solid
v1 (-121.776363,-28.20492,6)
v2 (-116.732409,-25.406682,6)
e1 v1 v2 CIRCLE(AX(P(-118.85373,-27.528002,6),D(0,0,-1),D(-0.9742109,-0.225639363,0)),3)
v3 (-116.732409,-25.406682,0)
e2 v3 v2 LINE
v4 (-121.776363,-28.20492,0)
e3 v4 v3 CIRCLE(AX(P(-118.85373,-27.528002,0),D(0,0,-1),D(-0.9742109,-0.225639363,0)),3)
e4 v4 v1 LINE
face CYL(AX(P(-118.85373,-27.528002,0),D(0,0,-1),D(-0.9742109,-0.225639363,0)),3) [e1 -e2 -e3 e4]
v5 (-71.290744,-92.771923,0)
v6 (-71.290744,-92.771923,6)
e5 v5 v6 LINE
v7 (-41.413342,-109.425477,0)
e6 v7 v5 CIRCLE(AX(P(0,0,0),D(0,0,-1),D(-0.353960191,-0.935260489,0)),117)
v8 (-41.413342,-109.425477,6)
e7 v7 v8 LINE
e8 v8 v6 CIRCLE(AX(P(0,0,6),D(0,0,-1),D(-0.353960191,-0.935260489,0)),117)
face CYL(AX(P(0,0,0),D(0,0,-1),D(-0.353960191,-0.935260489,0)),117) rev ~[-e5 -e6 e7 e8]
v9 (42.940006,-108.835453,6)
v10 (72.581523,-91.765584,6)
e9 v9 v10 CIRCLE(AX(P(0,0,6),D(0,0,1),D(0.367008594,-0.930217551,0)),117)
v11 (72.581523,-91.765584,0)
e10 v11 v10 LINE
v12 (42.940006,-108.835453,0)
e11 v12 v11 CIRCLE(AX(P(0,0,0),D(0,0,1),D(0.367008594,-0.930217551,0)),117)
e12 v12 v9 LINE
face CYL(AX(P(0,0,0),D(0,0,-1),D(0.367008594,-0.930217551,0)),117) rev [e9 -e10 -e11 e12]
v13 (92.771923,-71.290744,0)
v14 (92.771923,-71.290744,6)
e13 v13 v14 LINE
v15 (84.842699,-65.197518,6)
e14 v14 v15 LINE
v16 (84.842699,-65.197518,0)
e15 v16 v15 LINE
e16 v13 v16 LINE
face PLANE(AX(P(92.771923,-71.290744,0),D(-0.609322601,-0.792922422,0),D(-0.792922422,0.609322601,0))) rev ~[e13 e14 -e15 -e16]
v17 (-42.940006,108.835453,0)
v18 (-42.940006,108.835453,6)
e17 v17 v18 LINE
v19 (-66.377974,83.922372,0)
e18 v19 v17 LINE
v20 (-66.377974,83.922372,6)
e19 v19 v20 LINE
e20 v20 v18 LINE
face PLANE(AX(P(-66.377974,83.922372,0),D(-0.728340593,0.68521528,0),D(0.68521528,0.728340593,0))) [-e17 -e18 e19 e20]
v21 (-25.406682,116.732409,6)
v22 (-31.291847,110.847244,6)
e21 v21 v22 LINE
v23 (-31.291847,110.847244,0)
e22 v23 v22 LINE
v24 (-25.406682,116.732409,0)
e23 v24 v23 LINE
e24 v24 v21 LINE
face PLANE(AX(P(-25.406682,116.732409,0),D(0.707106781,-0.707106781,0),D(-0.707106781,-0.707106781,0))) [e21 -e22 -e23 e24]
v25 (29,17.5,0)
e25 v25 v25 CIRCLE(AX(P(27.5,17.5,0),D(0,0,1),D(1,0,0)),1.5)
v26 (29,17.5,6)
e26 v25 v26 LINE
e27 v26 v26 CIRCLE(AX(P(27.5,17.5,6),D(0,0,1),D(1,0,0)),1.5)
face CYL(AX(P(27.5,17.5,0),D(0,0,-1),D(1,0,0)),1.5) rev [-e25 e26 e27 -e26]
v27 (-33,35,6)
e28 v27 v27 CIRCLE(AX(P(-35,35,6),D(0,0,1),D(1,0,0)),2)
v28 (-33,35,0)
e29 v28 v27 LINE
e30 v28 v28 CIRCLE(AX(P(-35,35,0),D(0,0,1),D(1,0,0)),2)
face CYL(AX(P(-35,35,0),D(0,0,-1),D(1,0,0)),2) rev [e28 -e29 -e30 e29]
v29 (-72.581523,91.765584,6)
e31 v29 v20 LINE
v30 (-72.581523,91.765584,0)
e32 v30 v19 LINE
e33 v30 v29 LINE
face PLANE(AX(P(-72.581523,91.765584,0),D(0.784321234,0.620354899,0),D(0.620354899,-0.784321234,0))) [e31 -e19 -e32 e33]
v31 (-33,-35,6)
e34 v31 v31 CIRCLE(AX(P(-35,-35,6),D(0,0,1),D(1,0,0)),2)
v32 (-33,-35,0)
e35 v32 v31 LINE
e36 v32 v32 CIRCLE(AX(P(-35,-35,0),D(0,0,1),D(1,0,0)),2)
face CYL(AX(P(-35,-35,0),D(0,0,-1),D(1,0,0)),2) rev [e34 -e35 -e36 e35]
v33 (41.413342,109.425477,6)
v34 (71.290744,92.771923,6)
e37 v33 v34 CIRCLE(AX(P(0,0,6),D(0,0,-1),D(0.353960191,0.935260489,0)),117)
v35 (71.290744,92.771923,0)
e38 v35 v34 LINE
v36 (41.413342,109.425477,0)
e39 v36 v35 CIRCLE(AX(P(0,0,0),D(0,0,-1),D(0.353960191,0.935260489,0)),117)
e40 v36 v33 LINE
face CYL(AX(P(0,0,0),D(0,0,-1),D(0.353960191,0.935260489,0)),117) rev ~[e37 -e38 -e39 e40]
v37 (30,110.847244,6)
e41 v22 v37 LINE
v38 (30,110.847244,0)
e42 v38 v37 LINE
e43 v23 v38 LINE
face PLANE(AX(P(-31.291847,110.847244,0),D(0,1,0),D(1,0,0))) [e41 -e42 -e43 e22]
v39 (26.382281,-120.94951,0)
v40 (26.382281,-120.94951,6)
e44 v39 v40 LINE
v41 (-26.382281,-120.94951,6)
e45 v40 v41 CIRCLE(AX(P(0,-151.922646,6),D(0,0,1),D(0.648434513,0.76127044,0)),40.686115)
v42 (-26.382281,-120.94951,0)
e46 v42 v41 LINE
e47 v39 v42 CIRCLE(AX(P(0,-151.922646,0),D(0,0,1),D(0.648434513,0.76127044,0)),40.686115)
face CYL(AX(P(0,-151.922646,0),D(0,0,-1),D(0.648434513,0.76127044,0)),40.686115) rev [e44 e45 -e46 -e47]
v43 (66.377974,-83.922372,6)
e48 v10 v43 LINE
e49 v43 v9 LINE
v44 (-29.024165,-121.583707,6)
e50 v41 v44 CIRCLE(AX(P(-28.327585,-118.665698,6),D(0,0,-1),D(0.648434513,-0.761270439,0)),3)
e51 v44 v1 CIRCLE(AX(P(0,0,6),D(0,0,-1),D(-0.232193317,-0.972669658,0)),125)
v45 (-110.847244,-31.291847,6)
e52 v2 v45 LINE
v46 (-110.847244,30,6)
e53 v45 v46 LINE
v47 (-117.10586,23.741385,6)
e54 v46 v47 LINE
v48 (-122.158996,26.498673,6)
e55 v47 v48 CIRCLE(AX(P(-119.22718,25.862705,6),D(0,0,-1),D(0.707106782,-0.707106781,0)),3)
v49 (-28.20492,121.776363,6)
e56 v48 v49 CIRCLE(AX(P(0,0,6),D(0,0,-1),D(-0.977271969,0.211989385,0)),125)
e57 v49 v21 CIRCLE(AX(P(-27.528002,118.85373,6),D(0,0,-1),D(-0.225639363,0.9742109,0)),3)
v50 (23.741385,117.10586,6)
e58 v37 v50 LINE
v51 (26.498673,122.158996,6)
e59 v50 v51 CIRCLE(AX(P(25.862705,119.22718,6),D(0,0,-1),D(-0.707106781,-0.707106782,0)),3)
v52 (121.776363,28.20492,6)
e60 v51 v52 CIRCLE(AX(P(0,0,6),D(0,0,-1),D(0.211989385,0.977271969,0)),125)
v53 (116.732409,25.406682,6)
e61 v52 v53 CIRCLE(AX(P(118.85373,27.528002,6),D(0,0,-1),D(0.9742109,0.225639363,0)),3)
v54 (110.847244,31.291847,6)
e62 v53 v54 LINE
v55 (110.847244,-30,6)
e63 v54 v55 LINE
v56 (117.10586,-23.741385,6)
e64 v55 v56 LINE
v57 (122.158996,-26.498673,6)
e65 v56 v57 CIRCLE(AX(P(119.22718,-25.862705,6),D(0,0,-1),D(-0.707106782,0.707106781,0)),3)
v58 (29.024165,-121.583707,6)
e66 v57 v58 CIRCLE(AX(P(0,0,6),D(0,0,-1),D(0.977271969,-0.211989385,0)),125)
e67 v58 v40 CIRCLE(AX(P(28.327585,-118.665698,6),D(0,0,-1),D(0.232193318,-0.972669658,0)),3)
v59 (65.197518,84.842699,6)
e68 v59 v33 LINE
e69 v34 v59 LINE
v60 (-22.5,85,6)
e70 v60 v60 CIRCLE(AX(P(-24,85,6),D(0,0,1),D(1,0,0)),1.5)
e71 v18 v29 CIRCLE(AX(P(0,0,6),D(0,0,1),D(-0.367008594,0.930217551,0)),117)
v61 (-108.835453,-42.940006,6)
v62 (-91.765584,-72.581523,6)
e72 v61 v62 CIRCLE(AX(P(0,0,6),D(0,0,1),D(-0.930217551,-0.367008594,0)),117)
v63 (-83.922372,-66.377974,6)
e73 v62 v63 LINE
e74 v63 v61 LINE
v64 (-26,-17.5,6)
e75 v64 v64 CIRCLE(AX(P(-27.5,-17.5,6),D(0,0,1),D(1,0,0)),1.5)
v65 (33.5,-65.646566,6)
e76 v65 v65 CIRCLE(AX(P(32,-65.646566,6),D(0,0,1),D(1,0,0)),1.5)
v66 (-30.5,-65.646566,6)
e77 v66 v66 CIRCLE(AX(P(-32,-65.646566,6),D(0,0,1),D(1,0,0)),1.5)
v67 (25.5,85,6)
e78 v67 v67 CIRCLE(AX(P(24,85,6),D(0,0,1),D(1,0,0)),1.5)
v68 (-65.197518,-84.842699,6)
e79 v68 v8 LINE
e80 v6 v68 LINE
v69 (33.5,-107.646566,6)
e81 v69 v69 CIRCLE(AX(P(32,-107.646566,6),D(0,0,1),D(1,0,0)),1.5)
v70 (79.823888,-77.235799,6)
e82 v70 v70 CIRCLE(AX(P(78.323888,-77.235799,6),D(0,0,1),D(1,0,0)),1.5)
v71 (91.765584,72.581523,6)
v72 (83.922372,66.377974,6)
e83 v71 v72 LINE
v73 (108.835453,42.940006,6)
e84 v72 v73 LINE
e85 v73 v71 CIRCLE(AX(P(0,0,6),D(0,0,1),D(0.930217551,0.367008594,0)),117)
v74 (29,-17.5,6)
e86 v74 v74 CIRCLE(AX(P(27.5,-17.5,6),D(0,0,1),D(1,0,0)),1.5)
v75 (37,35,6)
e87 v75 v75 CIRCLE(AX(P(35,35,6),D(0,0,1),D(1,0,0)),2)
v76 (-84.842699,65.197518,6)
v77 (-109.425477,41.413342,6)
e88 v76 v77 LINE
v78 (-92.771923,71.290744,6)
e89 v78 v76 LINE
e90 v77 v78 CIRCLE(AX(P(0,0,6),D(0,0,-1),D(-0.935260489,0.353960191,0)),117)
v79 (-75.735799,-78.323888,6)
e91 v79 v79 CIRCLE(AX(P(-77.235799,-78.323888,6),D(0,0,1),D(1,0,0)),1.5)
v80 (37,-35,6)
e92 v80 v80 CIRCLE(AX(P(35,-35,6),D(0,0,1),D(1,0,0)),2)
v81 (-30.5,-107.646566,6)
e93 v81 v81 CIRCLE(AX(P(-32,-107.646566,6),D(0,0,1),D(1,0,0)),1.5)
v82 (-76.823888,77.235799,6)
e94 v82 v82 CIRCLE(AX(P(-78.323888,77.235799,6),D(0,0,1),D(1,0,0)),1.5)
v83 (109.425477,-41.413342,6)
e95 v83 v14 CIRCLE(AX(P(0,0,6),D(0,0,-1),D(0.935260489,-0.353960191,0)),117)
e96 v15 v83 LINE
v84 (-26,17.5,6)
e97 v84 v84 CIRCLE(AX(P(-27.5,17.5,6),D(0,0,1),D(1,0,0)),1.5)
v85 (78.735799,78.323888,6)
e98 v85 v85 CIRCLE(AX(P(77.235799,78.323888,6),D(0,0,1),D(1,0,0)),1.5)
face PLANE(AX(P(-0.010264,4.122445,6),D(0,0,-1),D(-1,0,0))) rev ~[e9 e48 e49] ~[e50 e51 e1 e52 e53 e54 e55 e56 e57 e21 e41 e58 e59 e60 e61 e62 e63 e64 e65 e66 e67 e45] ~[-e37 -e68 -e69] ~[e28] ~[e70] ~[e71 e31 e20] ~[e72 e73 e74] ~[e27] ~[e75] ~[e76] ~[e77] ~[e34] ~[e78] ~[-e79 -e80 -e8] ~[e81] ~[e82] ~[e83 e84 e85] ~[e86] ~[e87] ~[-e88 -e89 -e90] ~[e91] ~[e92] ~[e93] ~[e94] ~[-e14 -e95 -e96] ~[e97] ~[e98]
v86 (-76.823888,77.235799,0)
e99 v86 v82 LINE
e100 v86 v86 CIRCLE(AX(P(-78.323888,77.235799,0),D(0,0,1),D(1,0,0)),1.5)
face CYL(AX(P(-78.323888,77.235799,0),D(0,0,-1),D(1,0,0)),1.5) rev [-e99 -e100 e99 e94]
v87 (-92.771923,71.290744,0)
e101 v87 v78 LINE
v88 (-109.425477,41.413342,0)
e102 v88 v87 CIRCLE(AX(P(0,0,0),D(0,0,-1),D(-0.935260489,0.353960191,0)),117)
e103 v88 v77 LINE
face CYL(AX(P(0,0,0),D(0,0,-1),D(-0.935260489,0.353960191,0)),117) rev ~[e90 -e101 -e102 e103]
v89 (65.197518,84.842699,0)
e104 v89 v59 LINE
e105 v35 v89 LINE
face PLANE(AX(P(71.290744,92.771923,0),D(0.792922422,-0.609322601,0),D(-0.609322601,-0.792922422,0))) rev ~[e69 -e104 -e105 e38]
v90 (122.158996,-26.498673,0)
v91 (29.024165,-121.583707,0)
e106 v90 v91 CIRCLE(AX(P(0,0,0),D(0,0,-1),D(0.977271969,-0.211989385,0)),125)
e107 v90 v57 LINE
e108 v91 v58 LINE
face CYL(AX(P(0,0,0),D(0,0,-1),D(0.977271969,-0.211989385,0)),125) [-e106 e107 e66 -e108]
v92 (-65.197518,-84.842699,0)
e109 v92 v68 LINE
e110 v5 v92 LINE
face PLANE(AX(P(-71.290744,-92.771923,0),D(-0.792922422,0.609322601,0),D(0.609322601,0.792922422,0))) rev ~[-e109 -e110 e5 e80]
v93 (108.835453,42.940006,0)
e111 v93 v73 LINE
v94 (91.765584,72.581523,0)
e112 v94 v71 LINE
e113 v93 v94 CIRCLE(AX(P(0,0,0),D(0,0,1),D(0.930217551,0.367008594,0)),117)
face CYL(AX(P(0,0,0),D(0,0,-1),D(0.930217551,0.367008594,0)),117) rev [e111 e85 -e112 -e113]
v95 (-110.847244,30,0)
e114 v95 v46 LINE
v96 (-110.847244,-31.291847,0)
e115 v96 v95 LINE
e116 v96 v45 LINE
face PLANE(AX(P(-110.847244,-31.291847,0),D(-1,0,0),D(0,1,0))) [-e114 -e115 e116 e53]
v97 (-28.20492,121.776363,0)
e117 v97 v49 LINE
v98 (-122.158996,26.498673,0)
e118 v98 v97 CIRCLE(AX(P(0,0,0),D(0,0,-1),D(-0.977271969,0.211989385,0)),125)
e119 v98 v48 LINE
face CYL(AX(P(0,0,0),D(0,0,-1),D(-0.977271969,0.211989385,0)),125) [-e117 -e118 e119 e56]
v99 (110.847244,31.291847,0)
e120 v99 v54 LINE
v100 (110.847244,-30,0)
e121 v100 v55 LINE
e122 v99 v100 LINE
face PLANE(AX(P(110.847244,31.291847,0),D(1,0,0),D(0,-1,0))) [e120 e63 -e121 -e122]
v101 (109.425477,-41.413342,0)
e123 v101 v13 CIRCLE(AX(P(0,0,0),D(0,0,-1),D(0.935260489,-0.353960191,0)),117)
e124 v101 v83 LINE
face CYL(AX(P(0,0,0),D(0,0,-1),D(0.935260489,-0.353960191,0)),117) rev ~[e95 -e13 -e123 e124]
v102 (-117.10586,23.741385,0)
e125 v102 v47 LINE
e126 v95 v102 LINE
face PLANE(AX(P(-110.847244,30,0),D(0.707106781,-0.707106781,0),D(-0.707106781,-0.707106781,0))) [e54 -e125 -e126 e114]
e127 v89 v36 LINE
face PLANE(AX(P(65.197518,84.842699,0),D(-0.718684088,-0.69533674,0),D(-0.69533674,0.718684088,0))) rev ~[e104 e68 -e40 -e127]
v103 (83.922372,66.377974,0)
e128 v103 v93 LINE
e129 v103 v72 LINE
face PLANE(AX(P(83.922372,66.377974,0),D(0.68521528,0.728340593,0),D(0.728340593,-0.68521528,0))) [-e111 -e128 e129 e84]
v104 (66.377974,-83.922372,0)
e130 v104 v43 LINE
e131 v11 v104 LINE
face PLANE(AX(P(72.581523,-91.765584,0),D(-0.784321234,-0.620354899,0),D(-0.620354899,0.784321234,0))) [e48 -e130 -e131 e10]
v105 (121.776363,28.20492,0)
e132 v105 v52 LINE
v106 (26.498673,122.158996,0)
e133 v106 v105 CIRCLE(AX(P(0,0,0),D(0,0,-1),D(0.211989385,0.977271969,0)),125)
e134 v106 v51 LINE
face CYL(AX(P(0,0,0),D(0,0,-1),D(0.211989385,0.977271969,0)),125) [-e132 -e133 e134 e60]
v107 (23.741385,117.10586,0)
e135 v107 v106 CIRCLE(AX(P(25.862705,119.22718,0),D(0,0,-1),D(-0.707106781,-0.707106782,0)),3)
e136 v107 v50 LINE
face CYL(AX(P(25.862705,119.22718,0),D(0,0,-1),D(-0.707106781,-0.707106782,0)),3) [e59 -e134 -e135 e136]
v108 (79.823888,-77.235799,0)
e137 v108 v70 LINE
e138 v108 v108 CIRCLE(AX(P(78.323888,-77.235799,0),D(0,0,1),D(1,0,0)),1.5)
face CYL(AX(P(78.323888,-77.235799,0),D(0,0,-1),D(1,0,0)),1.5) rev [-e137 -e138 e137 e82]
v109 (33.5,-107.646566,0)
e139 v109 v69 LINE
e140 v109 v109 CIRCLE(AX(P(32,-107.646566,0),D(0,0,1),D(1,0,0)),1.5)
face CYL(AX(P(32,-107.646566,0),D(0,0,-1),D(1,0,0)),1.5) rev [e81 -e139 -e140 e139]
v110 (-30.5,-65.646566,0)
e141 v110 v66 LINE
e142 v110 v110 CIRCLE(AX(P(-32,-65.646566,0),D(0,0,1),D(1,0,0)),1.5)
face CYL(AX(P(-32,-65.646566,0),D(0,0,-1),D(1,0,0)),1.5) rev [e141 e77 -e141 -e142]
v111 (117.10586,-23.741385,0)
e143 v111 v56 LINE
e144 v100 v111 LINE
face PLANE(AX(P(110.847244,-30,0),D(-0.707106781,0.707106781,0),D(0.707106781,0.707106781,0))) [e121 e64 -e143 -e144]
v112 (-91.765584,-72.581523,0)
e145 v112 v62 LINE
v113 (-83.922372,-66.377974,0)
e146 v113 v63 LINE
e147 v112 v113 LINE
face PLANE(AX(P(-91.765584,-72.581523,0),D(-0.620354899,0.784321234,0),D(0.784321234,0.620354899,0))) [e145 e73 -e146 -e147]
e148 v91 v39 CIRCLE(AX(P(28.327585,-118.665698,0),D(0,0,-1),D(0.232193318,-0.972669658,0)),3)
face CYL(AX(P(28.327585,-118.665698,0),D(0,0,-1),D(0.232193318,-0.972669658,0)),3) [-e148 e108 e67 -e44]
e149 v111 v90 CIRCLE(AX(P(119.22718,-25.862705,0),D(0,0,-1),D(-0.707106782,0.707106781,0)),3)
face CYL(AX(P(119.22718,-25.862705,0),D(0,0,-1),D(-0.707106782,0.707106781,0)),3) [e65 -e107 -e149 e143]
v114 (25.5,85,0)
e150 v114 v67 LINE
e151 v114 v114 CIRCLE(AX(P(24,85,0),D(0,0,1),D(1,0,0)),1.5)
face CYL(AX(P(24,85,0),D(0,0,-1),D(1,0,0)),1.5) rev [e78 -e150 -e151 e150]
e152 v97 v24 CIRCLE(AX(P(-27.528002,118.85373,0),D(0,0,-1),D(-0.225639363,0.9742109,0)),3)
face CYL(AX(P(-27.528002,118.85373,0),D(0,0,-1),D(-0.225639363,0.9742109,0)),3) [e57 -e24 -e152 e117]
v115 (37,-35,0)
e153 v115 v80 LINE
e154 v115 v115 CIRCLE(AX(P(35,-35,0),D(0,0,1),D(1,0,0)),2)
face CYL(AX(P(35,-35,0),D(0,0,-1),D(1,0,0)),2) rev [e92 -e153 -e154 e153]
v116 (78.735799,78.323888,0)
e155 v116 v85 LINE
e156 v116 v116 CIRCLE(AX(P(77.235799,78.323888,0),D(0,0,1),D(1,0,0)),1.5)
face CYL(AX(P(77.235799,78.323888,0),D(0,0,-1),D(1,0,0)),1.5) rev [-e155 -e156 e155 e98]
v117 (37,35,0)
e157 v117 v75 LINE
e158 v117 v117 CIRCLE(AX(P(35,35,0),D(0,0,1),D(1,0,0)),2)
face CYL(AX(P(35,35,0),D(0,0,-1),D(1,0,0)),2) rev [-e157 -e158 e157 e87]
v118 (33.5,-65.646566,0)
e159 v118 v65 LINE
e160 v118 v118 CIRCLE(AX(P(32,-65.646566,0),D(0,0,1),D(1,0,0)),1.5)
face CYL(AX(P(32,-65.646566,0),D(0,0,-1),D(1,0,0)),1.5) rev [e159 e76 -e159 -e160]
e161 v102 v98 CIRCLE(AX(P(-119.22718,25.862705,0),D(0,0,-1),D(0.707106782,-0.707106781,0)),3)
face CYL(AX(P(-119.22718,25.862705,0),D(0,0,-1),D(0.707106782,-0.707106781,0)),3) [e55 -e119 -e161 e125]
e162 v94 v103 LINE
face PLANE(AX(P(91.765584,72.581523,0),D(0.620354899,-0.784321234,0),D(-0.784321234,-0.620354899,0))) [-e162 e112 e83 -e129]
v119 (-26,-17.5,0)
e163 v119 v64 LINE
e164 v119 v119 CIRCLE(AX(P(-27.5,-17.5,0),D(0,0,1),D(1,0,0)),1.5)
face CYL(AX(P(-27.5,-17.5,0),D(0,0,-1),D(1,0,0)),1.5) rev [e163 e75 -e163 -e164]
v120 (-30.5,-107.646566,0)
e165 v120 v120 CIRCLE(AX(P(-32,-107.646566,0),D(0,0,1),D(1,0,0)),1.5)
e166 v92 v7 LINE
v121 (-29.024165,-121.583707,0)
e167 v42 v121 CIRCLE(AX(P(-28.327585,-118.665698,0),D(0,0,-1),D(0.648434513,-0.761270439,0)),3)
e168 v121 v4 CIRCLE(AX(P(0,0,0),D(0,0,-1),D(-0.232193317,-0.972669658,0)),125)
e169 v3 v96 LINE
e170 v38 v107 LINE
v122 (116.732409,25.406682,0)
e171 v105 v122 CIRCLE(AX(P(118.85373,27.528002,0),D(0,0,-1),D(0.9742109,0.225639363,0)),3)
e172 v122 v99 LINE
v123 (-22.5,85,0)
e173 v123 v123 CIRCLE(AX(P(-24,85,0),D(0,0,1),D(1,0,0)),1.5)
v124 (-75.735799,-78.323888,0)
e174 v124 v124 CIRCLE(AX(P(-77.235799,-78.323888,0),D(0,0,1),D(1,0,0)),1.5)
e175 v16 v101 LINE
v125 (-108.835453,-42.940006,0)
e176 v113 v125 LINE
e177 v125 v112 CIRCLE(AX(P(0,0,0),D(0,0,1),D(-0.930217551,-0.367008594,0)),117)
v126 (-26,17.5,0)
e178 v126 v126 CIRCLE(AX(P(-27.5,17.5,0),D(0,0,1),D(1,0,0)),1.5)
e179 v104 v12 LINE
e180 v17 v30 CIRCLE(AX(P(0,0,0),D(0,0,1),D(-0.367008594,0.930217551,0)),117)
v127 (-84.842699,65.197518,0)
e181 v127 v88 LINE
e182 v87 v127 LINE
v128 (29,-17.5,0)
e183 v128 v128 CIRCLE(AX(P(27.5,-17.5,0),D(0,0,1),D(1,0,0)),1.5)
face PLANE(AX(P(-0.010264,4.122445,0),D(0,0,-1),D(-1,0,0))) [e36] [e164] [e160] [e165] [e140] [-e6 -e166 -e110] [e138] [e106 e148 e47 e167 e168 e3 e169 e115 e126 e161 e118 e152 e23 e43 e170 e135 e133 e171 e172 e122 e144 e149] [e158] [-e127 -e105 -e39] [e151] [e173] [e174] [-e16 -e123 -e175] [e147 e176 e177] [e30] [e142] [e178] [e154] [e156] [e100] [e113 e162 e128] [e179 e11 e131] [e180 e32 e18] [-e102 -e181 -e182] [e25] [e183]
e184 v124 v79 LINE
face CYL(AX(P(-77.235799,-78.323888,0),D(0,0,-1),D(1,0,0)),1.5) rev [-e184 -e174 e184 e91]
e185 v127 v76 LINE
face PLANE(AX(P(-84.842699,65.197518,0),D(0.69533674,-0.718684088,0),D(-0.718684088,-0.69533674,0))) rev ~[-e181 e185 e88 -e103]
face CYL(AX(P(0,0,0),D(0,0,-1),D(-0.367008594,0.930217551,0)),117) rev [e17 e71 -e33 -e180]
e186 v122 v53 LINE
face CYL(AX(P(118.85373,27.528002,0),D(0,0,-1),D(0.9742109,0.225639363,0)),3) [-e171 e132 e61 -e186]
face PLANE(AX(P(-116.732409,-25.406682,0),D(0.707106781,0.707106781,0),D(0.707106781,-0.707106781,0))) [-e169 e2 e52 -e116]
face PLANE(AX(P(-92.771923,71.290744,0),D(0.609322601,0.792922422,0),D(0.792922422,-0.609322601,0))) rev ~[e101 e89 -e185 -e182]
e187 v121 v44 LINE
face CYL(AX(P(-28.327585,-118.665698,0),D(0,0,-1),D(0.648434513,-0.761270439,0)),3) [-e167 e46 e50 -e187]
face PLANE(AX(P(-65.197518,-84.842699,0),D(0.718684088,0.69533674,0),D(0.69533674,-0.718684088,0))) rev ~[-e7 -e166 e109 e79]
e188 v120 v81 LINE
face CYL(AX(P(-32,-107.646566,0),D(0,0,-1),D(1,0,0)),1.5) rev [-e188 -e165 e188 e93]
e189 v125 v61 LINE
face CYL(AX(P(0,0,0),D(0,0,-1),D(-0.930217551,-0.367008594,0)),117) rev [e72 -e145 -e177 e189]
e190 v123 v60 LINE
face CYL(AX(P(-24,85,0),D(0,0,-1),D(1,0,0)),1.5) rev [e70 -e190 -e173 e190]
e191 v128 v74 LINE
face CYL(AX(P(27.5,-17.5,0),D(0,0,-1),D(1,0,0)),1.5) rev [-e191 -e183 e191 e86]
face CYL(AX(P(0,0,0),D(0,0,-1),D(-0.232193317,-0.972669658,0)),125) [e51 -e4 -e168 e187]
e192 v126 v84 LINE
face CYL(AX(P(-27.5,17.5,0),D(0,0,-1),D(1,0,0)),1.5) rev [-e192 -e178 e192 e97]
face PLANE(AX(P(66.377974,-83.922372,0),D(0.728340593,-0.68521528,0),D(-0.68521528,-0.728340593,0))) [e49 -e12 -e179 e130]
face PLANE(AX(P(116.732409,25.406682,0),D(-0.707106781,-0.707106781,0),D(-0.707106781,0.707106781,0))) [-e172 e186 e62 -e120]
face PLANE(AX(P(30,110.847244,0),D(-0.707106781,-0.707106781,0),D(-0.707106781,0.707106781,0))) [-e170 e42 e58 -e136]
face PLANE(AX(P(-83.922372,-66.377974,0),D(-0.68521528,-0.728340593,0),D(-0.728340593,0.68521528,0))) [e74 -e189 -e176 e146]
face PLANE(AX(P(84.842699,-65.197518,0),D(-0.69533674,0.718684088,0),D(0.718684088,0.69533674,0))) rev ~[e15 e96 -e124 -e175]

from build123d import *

# Parameters (mm, degrees)
SKETCH_1_R      = 1.5
SKETCH_1_R_2    = 2
EXTRUDE_1_DEPTH = 6


with BuildPart() as part:
    # 草图1 → 凸台-拉伸1 (new body)
    with BuildSketch(Plane.XY):
        with BuildLine():
            Line((0, 110.847244413), (30, 110.847244413))
            Line((30, 110.847244413), (23.741384574, 117.105859839))
            ThreePointArc((23.741384574, 117.105859839), (23.229244404, 120.664151209), (26.498673071, 122.158996089))
            ThreePointArc((26.498673071, 122.158996089), (87.76795333, 89.00441769), (121.776362518, 28.20492035))
            ThreePointArc((121.776362518, 28.20492035), (120.309085428, 24.90465706), (116.732409474, 25.406681918))
            Line((116.732409474, 25.406681918), (110.847244413, 31.291846979))
            Line((110.847244413, 31.291846979), (110.847244413, 0))
            Line((110.847244413, 0), (110.847244413, -30))
            Line((110.847244413, -30), (117.105859839, -23.741384574))
            ThreePointArc((117.105859839, -23.741384574), (120.664151209, -23.229244404), (122.158996089, -26.498673071))
            ThreePointArc((122.158996089, -26.498673071), (89.29937265, -87.467834341), (29.024164684, -121.583707233))
            ThreePointArc((29.024164684, -121.583707233), (27.627313844, -121.582823674), (26.382281192, -120.949509578))
            ThreePointArc((26.382281192, -120.949509578), (0, -111.236531221), (-26.382281192, -120.949509578))
            ThreePointArc((-26.382281192, -120.949509578), (-27.627313844, -121.582823674), (-29.024164684, -121.583707233))
            ThreePointArc((-29.024164684, -121.583707233), (-88.685394575, -88.090299063), (-121.776362518, -28.20492035))
            ThreePointArc((-121.776362518, -28.20492035), (-120.309085428, -24.90465706), (-116.732409474, -25.406681918))
            Line((-116.732409474, -25.406681918), (-110.847244413, -31.291846979))
            Line((-110.847244413, -31.291846979), (-110.847244413, 0))
            Line((-110.847244413, 0), (-110.847244413, 30))
            Line((-110.847244413, 30), (-117.105859839, 23.741384574))
            ThreePointArc((-117.105859839, 23.741384574), (-120.664151209, 23.229244404), (-122.158996089, 26.498673071))
            ThreePointArc((-122.158996089, 26.498673071), (-89.00441769, 87.76795333), (-28.20492035, 121.776362518))
            ThreePointArc((-28.20492035, 121.776362518), (-24.90465706, 120.309085428), (-25.406681918, 116.732409474))
            Line((-25.406681918, 116.732409474), (-31.291846979, 110.847244413))
            Line((-31.291846979, 110.847244413), (0, 110.847244413))
        make_face()
        with Locations((27.5, 17.5)):
            Circle(SKETCH_1_R, mode=Mode.SUBTRACT)
        with Locations((35, 35)):
            Circle(SKETCH_1_R_2, mode=Mode.SUBTRACT)
        with Locations((-35, 35)):
            Circle(SKETCH_1_R_2, mode=Mode.SUBTRACT)
        with Locations((-35, -35)):
            Circle(SKETCH_1_R_2, mode=Mode.SUBTRACT)
        with Locations((35, -35)):
            Circle(SKETCH_1_R_2, mode=Mode.SUBTRACT)
        with Locations((-27.5, 17.5)):
            Circle(SKETCH_1_R, mode=Mode.SUBTRACT)
        with Locations((27.5, -17.5)):
            Circle(SKETCH_1_R, mode=Mode.SUBTRACT)
        with Locations((-27.5, -17.5)):
            Circle(SKETCH_1_R, mode=Mode.SUBTRACT)
        with Locations((32, -65.646566025)):
            Circle(SKETCH_1_R, mode=Mode.SUBTRACT)
        with Locations((-32, -65.646566025)):
            Circle(SKETCH_1_R, mode=Mode.SUBTRACT)
        with Locations((32, -107.646566025)):
            Circle(SKETCH_1_R, mode=Mode.SUBTRACT)
        with Locations((-32, -107.646566025)):
            Circle(SKETCH_1_R, mode=Mode.SUBTRACT)
        with Locations((24, 85)):
            Circle(SKETCH_1_R, mode=Mode.SUBTRACT)
        with Locations((-24, 85)):
            Circle(SKETCH_1_R, mode=Mode.SUBTRACT)
        with Locations((77.23579893, 78.323887567)):
            Circle(SKETCH_1_R, mode=Mode.SUBTRACT)
        with Locations((78.323887567, -77.23579893)):
            Circle(SKETCH_1_R, mode=Mode.SUBTRACT)
        with Locations((-77.23579893, -78.323887567)):
            Circle(SKETCH_1_R, mode=Mode.SUBTRACT)
        with Locations((-78.323887567, 77.23579893)):
            Circle(SKETCH_1_R, mode=Mode.SUBTRACT)
        with BuildLine():
            Line((72.581523243, -91.765584419), (66.377974248, -83.922372075))
            Line((66.377974248, -83.922372075), (42.940005539, -108.835453435))
            ThreePointArc((42.940005539, -108.835453435), (58.387935484, -101.389590146), (72.581523243, -91.765584419))
        make_face(mode=Mode.SUBTRACT)
        with BuildLine():
            Line((91.765584419, 72.581523243), (83.922372075, 66.377974248))
            Line((83.922372075, 66.377974248), (108.835453435, 42.940005539))
            ThreePointArc((108.835453435, 42.940005539), (101.389590146, 58.387935484), (91.765584419, 72.581523243))
        make_face(mode=Mode.SUBTRACT)
        with BuildLine():
            Line((65.197518305, 84.842699196), (41.413342405, 109.425477248))
            ThreePointArc((41.413342405, 109.425477248), (56.963918445, 102.196438272), (71.290744315, 92.77192342))
            Line((71.290744315, 92.77192342), (65.197518305, 84.842699196))
        make_face(mode=Mode.SUBTRACT)
        with BuildLine():
            Line((84.842699196, -65.197518305), (109.425477248, -41.413342405))
            ThreePointArc((109.425477248, -41.413342405), (102.196438272, -56.963918445), (92.77192342, -71.290744315))
            Line((92.77192342, -71.290744315), (84.842699196, -65.197518305))
        make_face(mode=Mode.SUBTRACT)
        with BuildLine():
            Line((-91.765584419, -72.581523243), (-83.922372075, -66.377974248))
            Line((-83.922372075, -66.377974248), (-108.835453435, -42.940005539))
            ThreePointArc((-108.835453435, -42.940005539), (-101.389590146, -58.387935484), (-91.765584419, -72.581523243))
        make_face(mode=Mode.SUBTRACT)
        with BuildLine():
            Line((-65.197518305, -84.842699196), (-41.413342405, -109.425477248))
            ThreePointArc((-41.413342405, -109.425477248), (-56.963918445, -102.196438272), (-71.290744315, -92.77192342))
            Line((-71.290744315, -92.77192342), (-65.197518305, -84.842699196))
        make_face(mode=Mode.SUBTRACT)
        with BuildLine():
            Line((-72.581523243, 91.765584419), (-66.377974248, 83.922372075))
            Line((-66.377974248, 83.922372075), (-42.940005539, 108.835453435))
            ThreePointArc((-42.940005539, 108.835453435), (-58.387935484, 101.389590146), (-72.581523243, 91.765584419))
        make_face(mode=Mode.SUBTRACT)
        with BuildLine():
            Line((-84.842699196, 65.197518305), (-109.425477248, 41.413342405))
            ThreePointArc((-109.425477248, 41.413342405), (-102.196438272, 56.963918445), (-92.77192342, 71.290744315))
            Line((-92.77192342, 71.290744315), (-84.842699196, 65.197518305))
        make_face(mode=Mode.SUBTRACT)
    extrude(amount=EXTRUDE_1_DEPTH)


solid = part.part
